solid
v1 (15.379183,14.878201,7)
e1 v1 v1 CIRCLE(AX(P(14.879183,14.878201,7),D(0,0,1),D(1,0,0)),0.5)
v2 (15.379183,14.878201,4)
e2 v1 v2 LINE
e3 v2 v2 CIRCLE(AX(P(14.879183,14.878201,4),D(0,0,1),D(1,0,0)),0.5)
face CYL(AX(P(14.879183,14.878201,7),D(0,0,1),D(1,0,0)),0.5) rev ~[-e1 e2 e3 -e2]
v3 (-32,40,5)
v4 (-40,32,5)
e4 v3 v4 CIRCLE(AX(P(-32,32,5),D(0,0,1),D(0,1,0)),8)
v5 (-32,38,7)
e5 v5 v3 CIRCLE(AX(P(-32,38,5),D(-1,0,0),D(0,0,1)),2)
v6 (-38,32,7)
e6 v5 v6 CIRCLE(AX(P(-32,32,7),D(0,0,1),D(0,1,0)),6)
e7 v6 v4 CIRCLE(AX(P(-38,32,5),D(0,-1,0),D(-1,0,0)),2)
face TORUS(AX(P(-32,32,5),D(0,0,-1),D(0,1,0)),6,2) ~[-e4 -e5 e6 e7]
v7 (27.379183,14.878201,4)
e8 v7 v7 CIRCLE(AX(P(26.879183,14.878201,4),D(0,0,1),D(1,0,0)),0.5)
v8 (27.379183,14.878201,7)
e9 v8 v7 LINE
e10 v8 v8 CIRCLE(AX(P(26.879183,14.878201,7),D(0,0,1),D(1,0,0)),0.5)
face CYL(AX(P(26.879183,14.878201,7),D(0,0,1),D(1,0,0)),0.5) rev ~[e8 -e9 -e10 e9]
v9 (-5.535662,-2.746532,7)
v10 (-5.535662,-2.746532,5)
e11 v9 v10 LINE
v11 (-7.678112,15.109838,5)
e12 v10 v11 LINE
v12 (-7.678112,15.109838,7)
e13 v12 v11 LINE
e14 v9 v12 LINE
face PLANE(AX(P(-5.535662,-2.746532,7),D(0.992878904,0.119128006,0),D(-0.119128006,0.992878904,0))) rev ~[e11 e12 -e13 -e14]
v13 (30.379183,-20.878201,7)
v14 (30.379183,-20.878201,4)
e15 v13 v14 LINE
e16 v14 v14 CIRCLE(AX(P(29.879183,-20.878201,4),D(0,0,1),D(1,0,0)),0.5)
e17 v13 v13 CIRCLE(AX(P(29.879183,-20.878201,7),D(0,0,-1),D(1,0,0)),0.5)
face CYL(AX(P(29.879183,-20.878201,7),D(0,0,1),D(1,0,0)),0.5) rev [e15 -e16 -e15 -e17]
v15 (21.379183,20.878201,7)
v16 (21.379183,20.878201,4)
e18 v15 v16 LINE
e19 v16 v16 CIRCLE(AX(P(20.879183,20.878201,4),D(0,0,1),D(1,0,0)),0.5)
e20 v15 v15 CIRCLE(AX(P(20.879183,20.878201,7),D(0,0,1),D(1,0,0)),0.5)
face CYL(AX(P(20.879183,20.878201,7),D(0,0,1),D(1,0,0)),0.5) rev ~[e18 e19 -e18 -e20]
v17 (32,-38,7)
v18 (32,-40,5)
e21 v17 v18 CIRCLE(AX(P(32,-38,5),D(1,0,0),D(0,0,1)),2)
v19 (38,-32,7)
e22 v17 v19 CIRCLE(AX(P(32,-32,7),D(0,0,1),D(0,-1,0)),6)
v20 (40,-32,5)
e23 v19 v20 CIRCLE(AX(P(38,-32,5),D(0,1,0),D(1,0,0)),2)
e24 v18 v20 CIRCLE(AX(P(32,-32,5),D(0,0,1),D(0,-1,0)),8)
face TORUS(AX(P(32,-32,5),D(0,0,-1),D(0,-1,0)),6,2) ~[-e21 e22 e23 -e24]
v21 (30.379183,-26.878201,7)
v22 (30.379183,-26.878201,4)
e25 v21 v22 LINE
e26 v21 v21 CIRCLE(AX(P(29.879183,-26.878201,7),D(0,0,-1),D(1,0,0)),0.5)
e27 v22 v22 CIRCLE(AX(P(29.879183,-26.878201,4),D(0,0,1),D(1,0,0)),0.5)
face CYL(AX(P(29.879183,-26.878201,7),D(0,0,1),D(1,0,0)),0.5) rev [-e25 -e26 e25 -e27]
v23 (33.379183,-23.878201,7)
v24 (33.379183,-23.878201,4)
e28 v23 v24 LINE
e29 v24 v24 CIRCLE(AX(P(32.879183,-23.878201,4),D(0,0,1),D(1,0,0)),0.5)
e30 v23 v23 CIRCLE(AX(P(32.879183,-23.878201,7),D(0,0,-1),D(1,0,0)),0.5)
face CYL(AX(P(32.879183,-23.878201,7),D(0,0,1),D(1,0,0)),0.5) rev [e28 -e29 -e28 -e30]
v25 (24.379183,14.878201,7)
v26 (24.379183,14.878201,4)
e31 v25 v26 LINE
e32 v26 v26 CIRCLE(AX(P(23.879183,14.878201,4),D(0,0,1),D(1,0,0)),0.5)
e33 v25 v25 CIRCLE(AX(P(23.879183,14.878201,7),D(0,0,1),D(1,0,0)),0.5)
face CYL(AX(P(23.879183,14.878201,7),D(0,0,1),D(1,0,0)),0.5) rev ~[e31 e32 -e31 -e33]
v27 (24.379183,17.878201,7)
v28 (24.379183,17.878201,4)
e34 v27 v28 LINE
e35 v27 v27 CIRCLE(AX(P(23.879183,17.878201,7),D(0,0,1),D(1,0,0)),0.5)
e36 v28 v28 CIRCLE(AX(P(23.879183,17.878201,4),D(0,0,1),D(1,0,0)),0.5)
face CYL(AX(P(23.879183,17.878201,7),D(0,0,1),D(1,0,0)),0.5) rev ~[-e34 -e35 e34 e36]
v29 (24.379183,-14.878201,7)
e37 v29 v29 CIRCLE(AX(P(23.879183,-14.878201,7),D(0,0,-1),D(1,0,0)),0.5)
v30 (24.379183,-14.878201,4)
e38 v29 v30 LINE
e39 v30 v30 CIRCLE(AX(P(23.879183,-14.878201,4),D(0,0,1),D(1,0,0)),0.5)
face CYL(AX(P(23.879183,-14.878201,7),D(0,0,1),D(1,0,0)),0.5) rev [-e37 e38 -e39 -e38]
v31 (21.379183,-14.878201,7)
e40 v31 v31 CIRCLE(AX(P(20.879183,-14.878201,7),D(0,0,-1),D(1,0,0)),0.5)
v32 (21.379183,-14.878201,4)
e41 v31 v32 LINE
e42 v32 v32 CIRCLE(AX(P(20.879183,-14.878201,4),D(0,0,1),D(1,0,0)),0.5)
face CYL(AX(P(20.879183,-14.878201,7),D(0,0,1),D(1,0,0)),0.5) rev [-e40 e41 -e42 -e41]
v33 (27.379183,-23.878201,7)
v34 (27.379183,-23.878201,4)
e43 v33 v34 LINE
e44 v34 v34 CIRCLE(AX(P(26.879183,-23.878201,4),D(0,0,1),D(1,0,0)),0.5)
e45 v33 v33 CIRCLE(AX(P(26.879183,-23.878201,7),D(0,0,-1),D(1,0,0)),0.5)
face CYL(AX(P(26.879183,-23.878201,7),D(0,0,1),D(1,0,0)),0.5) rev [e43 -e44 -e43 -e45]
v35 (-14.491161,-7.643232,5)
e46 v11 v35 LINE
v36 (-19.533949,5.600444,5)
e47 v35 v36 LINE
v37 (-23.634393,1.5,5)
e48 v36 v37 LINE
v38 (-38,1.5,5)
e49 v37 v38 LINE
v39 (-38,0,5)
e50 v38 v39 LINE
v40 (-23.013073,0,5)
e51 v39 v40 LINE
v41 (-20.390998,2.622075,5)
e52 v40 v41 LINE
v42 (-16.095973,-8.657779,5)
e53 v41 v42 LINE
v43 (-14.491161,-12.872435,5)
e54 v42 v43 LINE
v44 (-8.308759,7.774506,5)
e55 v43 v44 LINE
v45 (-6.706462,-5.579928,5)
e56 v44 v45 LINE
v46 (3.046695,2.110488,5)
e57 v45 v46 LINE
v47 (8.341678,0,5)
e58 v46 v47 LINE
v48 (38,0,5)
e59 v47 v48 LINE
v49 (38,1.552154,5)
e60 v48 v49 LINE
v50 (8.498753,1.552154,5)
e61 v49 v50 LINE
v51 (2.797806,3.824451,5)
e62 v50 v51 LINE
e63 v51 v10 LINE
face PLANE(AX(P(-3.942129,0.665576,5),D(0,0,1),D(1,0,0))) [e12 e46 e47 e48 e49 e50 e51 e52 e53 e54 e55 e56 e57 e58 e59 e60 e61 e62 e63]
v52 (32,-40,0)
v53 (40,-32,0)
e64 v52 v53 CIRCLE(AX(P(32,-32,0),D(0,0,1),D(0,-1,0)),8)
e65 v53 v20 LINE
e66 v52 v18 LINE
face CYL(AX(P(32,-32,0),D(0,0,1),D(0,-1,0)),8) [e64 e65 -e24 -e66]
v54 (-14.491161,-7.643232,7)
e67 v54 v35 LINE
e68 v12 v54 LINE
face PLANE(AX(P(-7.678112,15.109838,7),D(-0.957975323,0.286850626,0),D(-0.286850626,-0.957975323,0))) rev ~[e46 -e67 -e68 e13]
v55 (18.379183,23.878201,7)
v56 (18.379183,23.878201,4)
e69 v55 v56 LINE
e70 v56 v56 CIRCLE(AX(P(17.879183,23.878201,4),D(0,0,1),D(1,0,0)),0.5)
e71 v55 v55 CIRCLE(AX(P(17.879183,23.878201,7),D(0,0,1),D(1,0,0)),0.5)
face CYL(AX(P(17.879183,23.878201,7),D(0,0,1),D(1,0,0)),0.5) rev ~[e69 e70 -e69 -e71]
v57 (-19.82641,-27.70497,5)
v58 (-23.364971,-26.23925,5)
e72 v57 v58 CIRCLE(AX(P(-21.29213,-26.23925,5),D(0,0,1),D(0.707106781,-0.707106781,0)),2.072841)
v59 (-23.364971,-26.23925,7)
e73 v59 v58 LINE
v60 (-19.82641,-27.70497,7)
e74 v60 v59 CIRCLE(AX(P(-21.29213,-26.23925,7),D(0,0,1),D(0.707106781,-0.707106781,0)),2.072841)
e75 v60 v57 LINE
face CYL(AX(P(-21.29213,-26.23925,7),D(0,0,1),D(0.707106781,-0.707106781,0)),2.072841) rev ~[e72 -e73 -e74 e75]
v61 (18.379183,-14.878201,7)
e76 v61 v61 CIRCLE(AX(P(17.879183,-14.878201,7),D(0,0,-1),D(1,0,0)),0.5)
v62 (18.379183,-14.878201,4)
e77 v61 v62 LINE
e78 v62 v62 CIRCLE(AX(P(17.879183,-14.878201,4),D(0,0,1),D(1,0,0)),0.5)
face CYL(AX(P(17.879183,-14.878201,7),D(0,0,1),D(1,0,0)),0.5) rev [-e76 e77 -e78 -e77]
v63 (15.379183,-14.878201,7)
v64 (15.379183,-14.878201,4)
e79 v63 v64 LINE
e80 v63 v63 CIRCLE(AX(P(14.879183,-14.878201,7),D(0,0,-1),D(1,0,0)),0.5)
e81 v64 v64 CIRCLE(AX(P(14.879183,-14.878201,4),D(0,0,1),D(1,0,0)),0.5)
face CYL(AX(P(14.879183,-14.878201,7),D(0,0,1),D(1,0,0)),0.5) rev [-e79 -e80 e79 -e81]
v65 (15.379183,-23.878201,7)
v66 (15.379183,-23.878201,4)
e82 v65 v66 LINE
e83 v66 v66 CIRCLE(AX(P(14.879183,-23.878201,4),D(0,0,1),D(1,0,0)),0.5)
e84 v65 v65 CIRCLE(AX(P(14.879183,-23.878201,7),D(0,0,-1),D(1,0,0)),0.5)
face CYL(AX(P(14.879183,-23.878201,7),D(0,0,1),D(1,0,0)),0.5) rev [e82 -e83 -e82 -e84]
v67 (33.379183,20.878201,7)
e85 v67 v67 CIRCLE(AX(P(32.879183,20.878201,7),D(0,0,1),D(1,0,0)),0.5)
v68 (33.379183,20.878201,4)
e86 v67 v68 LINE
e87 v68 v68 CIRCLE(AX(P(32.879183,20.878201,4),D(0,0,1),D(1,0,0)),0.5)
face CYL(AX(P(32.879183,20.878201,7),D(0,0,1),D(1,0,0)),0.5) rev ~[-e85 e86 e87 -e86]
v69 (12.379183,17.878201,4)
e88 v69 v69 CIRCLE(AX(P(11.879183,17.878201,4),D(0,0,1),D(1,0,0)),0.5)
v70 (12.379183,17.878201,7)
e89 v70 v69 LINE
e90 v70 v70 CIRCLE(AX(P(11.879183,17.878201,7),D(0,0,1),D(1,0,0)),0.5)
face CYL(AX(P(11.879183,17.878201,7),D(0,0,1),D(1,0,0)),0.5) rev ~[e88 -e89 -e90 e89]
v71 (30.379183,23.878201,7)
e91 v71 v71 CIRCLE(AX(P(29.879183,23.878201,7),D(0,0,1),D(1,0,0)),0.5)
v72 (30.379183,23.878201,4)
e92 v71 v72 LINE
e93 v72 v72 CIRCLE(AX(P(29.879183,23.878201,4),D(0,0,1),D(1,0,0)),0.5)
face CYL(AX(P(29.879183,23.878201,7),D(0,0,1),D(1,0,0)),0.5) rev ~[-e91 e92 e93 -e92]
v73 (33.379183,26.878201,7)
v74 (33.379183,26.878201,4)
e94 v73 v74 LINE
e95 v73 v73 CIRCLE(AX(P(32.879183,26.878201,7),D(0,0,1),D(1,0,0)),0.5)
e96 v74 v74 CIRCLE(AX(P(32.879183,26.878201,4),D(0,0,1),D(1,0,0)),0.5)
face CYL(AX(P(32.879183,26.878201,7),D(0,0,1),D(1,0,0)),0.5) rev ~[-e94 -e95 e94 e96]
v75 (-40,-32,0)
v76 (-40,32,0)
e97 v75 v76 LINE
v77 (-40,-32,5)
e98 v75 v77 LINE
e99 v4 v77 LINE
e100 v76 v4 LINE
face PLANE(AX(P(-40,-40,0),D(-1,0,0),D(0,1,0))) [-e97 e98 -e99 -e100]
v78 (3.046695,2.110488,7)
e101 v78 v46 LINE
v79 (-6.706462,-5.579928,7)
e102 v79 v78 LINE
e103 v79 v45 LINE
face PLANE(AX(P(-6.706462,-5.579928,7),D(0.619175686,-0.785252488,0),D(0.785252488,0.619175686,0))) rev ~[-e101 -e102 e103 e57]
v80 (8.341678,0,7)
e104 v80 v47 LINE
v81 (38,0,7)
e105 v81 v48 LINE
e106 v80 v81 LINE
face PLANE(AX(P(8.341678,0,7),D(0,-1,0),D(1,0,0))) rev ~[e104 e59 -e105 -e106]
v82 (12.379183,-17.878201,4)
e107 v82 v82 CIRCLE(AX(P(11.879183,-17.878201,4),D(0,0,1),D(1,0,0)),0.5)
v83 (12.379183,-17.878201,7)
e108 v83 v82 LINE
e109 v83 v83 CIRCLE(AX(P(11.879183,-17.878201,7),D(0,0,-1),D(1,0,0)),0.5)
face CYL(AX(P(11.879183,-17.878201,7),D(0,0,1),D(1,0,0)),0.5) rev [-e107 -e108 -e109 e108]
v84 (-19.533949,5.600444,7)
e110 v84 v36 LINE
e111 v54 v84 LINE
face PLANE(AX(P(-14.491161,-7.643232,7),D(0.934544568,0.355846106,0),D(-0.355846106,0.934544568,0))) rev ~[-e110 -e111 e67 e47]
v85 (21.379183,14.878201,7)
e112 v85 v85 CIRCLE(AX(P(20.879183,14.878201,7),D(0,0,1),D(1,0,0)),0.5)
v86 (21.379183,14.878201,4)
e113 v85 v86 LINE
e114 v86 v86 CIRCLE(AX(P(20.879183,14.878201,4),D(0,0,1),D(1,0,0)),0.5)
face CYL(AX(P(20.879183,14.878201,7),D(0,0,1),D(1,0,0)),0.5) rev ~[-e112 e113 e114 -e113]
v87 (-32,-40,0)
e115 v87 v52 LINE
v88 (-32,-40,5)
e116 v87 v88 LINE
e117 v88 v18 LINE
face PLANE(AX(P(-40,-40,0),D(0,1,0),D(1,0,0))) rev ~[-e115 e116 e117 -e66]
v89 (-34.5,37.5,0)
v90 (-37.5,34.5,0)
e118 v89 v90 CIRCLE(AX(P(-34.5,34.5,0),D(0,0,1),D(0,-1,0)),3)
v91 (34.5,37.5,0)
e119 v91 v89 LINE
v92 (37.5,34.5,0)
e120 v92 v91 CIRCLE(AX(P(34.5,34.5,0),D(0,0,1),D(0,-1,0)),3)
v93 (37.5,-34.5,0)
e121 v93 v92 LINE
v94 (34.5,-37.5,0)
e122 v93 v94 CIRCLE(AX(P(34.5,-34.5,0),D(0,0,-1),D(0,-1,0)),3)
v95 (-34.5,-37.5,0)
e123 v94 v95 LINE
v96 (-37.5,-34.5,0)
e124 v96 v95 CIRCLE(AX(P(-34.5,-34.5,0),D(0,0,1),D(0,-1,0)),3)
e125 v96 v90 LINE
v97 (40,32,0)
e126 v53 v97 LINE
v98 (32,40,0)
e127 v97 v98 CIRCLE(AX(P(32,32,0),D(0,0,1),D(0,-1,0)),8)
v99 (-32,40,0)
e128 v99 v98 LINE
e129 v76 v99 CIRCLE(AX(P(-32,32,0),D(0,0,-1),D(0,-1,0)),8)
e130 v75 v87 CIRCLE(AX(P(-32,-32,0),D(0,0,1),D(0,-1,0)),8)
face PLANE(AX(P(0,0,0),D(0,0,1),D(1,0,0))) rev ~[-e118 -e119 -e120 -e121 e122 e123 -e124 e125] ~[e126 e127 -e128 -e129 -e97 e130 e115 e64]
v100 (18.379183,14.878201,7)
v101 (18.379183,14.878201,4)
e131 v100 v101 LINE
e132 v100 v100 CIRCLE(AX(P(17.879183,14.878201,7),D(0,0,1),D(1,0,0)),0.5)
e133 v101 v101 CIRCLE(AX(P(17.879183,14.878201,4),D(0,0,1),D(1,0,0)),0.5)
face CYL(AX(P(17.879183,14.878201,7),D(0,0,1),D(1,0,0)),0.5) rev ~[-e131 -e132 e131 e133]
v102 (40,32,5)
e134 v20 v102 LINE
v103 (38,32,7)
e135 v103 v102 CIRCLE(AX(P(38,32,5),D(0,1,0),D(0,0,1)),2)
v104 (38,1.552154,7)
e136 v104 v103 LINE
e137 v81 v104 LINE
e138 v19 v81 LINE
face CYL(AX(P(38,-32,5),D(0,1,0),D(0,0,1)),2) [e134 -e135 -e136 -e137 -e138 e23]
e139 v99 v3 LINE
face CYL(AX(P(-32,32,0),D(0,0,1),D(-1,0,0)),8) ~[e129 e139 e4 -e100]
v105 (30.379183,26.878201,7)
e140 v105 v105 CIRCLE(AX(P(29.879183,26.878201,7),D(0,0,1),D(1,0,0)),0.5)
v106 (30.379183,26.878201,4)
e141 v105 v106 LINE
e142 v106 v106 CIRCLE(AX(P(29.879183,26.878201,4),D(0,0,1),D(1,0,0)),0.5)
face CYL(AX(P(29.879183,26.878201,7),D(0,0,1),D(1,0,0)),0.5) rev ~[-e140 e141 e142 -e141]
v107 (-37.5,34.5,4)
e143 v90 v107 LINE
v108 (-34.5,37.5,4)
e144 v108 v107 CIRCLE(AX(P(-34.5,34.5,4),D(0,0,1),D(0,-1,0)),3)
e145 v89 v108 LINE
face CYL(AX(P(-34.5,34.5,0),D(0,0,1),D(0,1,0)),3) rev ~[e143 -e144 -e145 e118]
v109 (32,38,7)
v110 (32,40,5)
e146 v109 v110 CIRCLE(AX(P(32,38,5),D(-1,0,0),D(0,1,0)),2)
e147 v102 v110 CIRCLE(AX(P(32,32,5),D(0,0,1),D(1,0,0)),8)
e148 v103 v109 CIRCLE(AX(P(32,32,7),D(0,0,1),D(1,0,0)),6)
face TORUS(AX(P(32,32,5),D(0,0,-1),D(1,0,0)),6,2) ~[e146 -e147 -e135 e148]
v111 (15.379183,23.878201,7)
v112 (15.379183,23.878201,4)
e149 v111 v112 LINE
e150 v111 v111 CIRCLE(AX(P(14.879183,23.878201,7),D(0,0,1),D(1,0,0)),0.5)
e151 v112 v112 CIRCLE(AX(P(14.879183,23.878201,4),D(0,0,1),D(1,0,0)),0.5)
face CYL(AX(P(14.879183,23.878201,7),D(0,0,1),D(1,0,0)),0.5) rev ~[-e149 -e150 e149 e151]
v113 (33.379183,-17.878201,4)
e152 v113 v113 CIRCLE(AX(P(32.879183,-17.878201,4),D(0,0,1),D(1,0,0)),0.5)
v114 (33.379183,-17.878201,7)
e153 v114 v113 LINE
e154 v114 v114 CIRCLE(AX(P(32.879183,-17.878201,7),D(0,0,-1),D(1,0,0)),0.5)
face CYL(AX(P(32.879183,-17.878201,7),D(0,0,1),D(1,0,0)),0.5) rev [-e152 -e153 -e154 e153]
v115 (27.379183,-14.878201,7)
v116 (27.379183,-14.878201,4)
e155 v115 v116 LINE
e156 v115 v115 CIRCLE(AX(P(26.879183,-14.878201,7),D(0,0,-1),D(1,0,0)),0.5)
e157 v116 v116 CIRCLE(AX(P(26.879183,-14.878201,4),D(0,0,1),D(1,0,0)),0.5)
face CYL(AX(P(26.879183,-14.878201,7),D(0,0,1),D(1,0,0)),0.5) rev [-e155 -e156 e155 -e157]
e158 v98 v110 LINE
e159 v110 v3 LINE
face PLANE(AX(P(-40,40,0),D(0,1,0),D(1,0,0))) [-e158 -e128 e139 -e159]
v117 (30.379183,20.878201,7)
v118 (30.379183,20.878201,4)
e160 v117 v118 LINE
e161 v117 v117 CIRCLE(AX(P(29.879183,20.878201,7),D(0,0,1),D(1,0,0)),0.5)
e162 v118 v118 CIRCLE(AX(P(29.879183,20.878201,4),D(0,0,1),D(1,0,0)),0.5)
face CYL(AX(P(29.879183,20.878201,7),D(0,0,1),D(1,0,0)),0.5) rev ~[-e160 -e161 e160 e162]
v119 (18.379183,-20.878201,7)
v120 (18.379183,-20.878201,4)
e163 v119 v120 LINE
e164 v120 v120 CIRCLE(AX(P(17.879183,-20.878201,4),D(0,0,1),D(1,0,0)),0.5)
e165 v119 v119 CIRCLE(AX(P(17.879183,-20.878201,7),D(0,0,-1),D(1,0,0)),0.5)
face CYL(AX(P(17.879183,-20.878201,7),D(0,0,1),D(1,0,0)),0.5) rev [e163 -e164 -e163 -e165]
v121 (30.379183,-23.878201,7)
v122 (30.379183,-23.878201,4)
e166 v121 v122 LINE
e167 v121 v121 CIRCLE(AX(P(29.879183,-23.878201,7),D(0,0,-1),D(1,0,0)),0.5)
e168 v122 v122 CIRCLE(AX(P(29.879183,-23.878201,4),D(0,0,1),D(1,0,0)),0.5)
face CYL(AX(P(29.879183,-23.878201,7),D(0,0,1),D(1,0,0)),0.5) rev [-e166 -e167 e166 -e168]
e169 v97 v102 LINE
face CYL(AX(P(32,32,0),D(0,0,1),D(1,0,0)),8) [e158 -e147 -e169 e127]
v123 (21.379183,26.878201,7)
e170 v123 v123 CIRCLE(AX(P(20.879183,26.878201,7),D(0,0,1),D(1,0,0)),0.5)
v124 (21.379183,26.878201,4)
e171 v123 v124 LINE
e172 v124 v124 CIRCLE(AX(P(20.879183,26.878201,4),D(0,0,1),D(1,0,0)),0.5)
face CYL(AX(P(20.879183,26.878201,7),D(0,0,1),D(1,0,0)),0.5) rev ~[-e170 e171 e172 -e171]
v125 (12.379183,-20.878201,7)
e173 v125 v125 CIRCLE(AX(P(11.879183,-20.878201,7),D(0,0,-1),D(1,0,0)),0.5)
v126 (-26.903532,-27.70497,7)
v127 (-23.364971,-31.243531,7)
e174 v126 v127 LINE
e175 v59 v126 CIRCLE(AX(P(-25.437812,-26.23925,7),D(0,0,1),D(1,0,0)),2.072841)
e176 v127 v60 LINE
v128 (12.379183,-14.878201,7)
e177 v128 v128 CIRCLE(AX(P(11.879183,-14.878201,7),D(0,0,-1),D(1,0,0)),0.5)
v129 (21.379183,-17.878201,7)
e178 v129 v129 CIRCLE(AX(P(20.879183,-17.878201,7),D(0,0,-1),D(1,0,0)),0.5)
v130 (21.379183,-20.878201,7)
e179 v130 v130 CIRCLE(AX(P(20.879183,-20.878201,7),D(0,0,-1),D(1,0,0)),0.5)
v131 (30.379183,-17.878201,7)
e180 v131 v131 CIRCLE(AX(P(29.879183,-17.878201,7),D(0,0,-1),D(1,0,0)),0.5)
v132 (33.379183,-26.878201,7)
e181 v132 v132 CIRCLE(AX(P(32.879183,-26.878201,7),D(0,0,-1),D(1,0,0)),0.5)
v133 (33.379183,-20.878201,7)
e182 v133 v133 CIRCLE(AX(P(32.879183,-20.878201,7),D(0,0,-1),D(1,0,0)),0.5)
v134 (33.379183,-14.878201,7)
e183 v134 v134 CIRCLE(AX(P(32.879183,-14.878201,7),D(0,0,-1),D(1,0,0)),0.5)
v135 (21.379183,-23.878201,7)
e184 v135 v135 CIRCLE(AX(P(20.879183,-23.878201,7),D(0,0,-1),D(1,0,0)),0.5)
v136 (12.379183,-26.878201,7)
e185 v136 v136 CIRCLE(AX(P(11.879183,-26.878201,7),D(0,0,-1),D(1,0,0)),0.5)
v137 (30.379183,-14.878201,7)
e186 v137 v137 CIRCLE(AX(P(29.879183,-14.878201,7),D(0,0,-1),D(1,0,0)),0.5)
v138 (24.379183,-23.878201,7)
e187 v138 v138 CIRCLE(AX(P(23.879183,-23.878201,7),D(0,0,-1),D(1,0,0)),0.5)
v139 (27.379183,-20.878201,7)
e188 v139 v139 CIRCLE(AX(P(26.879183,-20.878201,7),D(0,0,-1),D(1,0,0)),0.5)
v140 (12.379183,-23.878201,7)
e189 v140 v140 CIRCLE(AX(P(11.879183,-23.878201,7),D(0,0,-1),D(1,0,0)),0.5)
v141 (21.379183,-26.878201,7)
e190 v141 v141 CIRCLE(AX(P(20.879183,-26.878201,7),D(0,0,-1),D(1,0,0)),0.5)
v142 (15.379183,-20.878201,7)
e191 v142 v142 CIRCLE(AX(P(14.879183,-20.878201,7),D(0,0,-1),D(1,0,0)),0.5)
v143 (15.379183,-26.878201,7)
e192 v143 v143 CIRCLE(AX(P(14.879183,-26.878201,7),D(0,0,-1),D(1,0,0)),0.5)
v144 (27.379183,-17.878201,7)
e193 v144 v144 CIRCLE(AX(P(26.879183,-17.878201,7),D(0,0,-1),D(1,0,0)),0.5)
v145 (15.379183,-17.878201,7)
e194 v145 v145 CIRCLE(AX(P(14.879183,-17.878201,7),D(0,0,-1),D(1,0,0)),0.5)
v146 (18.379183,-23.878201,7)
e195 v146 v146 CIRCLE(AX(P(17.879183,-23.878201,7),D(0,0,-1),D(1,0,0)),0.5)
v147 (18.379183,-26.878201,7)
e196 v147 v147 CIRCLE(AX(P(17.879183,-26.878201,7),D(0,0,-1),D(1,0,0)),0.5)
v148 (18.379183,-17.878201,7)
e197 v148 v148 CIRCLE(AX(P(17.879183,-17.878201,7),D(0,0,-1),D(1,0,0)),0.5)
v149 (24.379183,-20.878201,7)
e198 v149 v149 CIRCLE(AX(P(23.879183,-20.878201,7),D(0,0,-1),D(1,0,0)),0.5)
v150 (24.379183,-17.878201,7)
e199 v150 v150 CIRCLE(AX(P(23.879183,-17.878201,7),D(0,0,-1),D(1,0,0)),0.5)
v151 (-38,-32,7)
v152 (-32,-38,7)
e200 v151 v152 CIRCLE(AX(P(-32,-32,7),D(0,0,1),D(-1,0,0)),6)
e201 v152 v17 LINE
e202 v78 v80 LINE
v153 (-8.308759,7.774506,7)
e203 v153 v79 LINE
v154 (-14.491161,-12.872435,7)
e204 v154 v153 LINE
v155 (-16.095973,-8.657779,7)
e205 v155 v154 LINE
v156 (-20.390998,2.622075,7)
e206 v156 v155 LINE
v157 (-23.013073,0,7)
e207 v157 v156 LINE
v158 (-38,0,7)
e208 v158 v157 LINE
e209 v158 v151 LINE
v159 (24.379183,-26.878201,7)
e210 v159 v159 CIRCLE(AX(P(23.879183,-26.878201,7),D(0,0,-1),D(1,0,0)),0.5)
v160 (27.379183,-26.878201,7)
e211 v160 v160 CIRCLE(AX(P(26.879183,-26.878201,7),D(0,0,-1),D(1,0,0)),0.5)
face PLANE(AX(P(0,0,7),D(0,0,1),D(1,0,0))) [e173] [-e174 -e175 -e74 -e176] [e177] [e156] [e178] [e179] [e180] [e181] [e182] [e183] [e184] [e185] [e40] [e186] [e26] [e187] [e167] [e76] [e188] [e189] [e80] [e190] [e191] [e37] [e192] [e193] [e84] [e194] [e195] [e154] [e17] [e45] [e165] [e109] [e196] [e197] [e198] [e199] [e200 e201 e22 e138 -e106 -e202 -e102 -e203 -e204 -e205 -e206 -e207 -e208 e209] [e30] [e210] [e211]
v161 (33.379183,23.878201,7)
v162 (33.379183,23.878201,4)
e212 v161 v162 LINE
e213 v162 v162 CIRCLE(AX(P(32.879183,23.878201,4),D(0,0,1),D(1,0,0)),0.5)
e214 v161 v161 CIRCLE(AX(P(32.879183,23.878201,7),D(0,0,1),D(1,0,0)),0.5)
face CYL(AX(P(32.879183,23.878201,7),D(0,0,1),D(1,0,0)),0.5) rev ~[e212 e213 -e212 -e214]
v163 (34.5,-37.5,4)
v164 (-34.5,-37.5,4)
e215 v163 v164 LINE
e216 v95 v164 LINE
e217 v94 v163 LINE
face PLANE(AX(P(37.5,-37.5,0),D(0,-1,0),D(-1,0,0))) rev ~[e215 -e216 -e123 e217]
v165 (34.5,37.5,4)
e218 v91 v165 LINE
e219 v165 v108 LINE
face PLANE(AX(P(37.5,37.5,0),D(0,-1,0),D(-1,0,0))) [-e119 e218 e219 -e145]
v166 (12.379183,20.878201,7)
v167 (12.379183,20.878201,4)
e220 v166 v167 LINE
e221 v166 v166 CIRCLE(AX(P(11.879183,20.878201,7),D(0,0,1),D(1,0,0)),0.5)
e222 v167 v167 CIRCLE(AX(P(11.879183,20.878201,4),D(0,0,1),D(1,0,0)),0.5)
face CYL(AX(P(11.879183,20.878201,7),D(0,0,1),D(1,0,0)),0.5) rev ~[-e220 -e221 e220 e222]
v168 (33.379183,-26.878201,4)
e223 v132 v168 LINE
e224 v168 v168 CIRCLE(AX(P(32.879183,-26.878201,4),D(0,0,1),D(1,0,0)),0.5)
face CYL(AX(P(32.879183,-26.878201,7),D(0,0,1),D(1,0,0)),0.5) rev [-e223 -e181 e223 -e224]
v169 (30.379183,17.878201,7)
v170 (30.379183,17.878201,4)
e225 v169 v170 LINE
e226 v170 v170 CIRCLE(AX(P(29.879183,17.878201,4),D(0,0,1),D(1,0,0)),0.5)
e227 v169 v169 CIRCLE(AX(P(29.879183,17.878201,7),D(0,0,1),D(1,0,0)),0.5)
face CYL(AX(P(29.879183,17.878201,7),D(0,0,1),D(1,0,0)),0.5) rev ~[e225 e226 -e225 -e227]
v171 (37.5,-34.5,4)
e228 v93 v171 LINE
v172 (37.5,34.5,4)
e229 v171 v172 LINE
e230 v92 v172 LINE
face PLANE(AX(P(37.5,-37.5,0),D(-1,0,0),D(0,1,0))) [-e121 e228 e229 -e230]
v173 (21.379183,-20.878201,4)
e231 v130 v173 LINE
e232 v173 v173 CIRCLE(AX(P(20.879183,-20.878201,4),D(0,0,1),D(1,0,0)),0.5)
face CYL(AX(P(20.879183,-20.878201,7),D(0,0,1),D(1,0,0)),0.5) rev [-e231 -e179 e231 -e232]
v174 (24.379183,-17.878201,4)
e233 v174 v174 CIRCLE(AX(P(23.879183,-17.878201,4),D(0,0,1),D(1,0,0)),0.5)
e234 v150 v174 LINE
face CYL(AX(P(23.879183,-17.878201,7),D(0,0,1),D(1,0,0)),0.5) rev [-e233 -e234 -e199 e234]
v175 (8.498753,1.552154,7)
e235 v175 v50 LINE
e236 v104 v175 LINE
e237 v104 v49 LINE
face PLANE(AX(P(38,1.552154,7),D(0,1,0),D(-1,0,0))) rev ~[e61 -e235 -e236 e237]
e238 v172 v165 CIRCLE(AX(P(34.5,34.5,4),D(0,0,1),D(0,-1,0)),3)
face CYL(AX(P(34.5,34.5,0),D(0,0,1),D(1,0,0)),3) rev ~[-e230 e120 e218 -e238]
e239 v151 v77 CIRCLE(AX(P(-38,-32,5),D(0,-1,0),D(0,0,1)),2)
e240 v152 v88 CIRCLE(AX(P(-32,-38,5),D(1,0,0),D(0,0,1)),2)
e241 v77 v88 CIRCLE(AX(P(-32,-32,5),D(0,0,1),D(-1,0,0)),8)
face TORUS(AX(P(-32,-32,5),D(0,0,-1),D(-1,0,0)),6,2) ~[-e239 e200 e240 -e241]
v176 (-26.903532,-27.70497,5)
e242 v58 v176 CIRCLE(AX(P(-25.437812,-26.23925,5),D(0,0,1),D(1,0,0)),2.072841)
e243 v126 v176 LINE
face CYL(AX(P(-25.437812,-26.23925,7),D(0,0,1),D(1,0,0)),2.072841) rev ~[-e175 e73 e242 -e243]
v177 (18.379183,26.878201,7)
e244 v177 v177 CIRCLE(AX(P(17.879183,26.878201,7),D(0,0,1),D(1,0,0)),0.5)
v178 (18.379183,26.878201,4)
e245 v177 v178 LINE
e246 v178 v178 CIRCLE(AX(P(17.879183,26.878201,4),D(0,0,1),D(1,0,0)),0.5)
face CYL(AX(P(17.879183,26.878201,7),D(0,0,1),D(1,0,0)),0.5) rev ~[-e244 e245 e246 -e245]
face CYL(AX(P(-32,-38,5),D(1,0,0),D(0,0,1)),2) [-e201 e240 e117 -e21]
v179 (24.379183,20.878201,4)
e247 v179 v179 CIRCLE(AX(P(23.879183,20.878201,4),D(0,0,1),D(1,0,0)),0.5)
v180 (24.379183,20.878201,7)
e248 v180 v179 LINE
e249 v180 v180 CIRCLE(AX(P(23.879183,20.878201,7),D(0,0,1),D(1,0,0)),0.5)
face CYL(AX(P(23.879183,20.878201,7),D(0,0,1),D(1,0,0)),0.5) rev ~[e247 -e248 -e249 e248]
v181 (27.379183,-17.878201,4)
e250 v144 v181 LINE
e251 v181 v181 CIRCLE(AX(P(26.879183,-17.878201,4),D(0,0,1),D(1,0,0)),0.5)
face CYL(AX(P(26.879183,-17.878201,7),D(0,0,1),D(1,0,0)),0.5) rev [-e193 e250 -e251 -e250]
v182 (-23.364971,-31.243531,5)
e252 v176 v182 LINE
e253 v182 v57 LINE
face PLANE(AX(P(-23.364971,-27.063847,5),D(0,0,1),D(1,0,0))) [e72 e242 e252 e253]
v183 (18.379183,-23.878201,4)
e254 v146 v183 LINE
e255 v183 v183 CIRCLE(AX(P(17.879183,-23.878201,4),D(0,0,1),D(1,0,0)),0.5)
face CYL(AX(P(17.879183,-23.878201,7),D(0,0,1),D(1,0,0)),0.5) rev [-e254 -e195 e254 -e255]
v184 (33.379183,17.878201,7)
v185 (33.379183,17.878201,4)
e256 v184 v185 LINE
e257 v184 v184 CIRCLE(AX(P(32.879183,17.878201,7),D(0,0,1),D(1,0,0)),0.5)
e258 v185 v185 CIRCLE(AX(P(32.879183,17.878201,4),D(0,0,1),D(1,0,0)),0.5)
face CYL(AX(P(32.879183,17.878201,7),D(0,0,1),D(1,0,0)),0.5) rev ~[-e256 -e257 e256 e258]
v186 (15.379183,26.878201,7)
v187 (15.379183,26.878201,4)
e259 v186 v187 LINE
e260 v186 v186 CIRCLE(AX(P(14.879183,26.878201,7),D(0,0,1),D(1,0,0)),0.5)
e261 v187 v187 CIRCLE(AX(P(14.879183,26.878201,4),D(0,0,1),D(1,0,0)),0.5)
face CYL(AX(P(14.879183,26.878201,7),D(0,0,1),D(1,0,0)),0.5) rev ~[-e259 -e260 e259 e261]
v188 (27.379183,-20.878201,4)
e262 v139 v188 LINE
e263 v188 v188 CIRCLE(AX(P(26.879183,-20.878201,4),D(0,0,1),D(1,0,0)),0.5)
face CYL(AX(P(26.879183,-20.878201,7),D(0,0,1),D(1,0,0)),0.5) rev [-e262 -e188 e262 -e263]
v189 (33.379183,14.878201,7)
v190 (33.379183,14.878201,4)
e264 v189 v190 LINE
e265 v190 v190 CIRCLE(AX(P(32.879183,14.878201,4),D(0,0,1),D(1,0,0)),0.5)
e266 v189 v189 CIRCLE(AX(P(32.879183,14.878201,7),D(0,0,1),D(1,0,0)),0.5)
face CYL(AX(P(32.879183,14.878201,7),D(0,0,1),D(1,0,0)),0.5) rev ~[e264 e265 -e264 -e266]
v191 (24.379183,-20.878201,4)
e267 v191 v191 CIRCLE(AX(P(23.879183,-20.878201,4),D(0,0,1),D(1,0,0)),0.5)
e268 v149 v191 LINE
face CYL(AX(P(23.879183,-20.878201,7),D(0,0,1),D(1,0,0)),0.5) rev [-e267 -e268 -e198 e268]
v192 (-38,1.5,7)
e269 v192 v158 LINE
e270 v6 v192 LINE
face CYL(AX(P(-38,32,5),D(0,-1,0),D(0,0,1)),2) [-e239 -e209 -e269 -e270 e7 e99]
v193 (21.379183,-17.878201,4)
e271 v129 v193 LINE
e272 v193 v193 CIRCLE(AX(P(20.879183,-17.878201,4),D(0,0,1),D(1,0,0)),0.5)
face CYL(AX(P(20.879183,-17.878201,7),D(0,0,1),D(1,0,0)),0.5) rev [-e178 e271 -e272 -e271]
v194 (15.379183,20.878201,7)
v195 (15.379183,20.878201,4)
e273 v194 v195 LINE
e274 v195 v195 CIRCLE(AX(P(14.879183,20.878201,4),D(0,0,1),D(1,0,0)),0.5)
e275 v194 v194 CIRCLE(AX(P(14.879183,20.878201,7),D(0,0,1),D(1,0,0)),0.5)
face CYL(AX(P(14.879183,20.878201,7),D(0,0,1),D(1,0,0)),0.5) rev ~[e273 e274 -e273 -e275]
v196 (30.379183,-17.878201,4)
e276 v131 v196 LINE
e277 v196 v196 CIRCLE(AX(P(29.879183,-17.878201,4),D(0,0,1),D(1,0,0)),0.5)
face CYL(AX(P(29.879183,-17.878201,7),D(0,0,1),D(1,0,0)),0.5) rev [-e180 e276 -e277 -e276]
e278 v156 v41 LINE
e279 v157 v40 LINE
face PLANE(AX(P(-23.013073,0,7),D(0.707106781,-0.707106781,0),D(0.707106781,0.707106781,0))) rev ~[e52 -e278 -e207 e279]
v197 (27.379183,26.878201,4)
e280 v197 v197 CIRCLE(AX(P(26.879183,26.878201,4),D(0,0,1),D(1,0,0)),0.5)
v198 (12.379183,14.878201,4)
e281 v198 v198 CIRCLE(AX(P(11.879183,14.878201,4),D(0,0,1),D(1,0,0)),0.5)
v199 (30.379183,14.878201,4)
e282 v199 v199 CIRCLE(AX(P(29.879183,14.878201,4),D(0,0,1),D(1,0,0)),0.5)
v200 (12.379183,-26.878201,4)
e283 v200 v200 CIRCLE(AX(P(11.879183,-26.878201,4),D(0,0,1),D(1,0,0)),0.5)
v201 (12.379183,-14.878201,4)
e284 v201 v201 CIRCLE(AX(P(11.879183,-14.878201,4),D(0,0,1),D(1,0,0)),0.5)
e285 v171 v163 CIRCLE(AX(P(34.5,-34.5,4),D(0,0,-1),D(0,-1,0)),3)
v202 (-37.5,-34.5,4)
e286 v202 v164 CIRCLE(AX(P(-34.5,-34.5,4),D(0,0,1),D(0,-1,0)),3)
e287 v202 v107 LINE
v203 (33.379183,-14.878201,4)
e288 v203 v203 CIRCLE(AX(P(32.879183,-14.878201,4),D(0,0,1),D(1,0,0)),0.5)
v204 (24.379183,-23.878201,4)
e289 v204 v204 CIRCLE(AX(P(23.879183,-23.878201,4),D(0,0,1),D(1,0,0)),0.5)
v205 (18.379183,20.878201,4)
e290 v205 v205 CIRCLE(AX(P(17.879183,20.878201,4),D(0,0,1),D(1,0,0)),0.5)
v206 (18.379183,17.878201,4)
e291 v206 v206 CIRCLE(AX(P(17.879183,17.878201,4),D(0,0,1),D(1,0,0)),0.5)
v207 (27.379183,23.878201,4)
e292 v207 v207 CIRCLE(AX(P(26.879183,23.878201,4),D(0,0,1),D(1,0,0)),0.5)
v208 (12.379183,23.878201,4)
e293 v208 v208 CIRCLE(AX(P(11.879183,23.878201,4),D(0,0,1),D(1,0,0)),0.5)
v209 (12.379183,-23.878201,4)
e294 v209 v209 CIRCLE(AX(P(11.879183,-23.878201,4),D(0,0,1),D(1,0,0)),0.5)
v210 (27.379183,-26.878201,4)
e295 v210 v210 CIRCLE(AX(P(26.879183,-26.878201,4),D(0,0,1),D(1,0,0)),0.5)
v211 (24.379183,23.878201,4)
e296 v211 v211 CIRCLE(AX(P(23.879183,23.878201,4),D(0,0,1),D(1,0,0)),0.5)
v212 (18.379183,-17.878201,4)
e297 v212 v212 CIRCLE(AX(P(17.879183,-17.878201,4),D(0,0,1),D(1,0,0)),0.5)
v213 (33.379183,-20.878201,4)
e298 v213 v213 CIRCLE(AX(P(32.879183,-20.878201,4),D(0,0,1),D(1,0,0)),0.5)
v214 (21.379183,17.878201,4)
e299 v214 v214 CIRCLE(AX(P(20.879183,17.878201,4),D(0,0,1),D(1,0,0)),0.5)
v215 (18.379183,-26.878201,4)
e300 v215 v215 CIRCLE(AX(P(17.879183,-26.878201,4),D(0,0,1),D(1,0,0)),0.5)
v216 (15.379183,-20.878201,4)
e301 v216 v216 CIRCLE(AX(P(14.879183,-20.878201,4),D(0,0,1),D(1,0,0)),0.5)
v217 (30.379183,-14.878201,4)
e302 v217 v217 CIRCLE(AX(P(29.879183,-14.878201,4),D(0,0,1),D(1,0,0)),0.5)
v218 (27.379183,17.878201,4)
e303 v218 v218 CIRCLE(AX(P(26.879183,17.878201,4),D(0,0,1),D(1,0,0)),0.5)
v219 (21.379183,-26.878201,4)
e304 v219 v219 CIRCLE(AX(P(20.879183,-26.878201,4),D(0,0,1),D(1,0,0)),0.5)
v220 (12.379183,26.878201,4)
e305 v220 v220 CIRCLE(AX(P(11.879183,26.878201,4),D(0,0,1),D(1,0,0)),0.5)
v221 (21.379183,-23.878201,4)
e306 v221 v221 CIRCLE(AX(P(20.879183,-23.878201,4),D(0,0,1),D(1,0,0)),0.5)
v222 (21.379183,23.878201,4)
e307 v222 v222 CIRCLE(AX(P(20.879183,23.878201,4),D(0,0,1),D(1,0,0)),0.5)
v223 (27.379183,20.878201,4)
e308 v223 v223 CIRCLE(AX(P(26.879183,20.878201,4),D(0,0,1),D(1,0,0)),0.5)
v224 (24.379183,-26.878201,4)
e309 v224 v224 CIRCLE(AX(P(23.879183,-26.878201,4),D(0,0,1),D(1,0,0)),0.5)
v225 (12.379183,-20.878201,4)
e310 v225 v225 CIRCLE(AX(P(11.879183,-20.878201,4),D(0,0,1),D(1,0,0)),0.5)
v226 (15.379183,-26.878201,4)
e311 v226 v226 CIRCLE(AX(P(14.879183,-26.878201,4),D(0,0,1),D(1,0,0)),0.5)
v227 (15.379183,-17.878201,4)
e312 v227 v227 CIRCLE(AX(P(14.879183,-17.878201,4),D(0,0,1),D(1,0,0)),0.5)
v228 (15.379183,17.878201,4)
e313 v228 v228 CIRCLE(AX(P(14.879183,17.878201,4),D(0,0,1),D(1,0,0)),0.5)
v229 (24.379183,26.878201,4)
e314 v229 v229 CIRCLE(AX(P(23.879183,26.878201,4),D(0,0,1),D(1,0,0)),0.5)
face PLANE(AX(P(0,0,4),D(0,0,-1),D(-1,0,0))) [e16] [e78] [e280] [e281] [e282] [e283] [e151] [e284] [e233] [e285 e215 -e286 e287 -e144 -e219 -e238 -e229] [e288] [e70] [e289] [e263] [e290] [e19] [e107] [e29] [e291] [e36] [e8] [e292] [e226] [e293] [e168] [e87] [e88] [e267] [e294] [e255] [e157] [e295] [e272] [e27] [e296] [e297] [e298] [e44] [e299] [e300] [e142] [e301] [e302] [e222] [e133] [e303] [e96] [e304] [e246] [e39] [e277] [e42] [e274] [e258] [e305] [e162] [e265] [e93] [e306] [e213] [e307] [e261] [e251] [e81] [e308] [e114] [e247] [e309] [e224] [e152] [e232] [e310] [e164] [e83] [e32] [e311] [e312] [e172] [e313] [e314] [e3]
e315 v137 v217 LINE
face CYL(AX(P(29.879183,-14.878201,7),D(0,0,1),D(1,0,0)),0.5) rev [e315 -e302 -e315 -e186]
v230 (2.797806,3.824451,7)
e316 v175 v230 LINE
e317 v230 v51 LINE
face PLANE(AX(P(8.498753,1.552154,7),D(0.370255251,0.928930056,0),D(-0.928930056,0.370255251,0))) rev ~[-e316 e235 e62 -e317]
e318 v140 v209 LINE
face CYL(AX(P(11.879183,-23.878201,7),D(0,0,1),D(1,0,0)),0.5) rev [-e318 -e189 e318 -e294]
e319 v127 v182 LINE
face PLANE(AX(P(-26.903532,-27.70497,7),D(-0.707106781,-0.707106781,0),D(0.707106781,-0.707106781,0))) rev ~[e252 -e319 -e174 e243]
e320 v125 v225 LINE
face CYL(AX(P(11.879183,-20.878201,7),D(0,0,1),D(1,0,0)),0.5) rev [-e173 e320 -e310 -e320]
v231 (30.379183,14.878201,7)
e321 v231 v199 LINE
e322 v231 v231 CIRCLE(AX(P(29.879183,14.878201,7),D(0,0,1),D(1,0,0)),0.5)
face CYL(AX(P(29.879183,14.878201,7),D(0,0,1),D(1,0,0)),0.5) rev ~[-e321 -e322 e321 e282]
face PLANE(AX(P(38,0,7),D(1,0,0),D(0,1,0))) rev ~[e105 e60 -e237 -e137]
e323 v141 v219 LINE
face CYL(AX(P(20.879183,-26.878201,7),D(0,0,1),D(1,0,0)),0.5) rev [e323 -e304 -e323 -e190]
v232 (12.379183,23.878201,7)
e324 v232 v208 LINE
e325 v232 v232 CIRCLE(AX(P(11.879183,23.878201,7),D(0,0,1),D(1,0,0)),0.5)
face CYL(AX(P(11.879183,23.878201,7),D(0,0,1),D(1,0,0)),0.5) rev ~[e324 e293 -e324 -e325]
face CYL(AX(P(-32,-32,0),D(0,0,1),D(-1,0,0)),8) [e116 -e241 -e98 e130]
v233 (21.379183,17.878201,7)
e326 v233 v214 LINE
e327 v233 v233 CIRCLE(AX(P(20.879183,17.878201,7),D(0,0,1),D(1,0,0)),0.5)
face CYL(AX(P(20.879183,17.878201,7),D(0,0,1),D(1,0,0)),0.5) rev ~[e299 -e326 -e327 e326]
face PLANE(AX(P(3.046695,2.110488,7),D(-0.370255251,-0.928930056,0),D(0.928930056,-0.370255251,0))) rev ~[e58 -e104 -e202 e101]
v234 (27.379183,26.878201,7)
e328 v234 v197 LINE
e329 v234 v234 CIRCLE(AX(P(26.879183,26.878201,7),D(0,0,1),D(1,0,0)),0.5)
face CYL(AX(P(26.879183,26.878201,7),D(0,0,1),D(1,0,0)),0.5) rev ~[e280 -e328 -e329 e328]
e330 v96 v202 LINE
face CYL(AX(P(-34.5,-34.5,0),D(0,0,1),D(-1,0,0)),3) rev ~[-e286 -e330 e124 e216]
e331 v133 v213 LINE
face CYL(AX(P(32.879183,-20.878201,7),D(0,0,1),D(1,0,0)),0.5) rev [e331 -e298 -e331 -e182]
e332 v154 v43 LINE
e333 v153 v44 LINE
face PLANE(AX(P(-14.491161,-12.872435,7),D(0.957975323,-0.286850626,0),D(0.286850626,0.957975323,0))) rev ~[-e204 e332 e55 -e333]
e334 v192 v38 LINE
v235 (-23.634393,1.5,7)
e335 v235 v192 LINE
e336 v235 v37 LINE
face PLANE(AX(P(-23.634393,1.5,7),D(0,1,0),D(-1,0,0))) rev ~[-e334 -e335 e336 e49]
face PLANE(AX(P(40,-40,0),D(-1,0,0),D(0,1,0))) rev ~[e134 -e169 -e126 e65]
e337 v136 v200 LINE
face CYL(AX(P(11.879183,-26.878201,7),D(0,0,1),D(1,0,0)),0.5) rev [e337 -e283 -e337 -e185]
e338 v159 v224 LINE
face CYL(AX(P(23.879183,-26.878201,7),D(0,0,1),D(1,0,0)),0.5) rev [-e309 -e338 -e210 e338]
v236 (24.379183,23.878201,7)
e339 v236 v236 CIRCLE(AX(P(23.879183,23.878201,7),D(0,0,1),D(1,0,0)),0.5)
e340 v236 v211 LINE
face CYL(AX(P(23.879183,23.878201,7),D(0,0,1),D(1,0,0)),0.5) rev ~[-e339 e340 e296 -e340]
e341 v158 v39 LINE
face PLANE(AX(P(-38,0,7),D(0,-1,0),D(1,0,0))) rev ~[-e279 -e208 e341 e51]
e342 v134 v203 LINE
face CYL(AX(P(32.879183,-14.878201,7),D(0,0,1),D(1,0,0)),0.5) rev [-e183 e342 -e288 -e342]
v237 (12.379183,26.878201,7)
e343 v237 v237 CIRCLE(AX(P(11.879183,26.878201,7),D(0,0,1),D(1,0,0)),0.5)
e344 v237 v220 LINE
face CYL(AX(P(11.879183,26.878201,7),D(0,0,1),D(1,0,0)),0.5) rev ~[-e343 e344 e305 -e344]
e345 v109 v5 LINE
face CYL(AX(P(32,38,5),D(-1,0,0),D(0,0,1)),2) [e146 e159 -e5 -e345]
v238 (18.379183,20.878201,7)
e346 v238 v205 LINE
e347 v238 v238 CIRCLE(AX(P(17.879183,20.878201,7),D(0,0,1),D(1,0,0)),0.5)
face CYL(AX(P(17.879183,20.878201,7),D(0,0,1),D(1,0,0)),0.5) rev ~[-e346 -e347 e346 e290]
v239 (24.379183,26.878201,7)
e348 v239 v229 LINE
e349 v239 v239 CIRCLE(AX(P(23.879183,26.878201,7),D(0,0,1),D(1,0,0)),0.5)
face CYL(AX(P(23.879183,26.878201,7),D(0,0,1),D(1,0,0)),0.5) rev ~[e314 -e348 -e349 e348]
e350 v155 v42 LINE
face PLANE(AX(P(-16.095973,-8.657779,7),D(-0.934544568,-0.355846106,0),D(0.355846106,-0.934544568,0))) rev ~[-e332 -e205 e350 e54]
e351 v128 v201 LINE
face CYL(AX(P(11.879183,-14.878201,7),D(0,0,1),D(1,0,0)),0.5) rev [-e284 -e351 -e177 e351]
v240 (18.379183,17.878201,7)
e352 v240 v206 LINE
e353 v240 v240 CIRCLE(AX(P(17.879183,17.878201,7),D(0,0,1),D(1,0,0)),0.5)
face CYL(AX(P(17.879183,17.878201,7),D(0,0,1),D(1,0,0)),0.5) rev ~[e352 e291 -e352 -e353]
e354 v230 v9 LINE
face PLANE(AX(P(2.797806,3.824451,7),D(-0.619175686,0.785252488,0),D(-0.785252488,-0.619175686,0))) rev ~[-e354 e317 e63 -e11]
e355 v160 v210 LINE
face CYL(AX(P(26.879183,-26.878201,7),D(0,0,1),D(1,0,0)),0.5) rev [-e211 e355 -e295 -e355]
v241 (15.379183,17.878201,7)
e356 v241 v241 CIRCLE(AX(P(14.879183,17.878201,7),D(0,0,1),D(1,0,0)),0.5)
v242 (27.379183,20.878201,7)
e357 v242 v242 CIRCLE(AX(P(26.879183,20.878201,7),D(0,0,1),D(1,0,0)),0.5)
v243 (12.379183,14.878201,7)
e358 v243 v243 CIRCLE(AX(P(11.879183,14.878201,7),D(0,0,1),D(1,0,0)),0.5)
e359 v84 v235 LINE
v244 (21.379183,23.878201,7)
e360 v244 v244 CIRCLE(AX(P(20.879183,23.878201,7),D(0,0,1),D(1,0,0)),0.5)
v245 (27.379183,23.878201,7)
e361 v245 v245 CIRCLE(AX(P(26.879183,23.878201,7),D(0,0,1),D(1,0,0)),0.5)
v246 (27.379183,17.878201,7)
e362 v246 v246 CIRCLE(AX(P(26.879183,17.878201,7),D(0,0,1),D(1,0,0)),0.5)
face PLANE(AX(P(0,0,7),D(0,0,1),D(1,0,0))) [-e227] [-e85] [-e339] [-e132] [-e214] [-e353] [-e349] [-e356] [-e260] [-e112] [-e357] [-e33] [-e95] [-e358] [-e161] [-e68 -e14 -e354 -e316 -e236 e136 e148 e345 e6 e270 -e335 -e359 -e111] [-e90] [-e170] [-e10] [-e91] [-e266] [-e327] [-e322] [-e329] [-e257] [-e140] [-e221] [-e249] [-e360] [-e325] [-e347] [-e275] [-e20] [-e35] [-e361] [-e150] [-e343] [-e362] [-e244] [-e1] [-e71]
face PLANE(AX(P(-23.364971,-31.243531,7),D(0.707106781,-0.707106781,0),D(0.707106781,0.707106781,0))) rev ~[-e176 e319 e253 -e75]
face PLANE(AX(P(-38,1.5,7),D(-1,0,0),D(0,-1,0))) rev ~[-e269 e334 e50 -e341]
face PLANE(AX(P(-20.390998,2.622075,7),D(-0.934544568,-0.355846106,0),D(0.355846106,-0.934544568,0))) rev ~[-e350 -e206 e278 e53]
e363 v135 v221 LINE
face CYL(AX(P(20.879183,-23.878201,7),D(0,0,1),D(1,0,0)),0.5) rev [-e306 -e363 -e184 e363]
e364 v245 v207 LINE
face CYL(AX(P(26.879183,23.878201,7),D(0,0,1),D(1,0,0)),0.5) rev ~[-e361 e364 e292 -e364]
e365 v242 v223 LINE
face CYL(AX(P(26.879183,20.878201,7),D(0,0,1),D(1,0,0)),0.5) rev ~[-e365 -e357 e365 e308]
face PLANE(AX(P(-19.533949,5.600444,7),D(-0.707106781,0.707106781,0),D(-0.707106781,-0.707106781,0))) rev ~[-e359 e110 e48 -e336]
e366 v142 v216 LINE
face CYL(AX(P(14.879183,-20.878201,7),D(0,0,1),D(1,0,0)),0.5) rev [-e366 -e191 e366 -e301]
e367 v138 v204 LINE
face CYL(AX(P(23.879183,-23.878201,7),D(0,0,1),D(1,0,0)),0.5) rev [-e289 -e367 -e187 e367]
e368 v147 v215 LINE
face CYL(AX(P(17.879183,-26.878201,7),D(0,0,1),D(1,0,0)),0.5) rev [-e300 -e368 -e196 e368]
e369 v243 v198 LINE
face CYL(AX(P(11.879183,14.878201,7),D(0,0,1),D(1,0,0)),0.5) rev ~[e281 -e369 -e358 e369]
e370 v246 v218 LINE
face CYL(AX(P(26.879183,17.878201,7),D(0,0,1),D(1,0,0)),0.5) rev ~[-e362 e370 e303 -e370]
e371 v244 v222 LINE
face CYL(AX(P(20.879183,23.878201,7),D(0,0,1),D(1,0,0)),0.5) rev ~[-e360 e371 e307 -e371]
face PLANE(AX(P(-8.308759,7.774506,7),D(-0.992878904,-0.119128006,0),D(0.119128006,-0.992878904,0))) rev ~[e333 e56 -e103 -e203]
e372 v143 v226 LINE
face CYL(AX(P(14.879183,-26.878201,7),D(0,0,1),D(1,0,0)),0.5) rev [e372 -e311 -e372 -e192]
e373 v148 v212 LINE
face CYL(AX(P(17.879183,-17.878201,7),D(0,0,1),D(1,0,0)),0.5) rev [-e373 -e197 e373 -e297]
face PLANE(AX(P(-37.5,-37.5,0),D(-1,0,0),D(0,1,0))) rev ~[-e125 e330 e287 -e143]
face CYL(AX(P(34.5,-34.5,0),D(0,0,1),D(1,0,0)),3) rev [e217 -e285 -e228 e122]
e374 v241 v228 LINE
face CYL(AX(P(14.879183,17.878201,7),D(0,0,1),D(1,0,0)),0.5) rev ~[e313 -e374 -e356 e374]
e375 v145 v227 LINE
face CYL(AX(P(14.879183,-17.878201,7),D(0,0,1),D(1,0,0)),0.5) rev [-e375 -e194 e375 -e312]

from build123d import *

# Parameters (mm, degrees)
ESQUISSE1_W             = 80
ESQUISSE1_H             = 80
BOSS_EXTRU_1_DEPTH      = 7
CONG_1_R                = 8
CONG_2_R                = 2
ESQUISSE2_W             = 75
ESQUISSE2_H             = 75
ENL_V_MAT_EXTRU_1_DEPTH = 4
ENL_V_MAT_EXTRU_2_DEPTH = 2
ENL_V_MAT_EXTRU_3_DEPTH = 2
ESQUISSE6_R             = 0.5
ENL_V_MAT_EXTRU_4_DEPTH = 58
CONG_3_R                = 3


with BuildPart() as part:
    # Esquisse1 → Boss.-Extru.1 (new body)
    with BuildSketch(Plane.XY):
        Rectangle(ESQUISSE1_W, ESQUISSE1_H)
    extrude(amount=BOSS_EXTRU_1_DEPTH)

    # Congé1
    cong_1_edges = [part.edges().sort_by_distance(p)[0] for p in [
        (40, -40, 3.5),
        (-40, -40, 3.5),
        (-40, 40, 3.5),
        (40, 40, 3.5),
    ]]
    fillet(cong_1_edges, radius=CONG_1_R)

    # Congé2
    cong_2_edges = [part.edges().sort_by_distance(p)[0] for p in [
        (0, -40, 7),
        (-40, 0, 7),
        (40, 0, 7),
        (0, 40, 7),
        (37.656854249, 37.656854249, 7),
        (37.656854249, -37.656854249, 7),
        (-37.656854249, 37.656854249, 7),
        (-37.656854249, -37.656854249, 7),
    ]]
    fillet(cong_2_edges, radius=CONG_2_R)

    # Esquisse2 → Enlèv. mat.-Extru.1 (cut)
    with BuildSketch(Plane(origin=(0, 0, 0), x_dir=(-1, 0, 0), z_dir=(0, 0, -1))):
        Rectangle(ESQUISSE2_W, ESQUISSE2_H)
    extrude(amount=-ENL_V_MAT_EXTRU_1_DEPTH, mode=Mode.SUBTRACT)

    # Esquisse3 → Enlèv. mat.-Extru.2 (cut)
    with BuildSketch(Plane.XY.offset(7)):
        Polygon((-38, 0), (-23.013072884, 0), (-20.39099813, 2.622074754), (-16.095973356, -8.657779106), (-14.491160811, -12.872434885), (-8.308759443, 7.774506113), (-6.706462268, -5.579927642), (3.046694847, 2.110487656), (8.341678265, 0), (38, 0), (38, 1.552153758), (8.49875294, 1.552153758), (2.797806202, 3.824451283), (-5.535661698, -2.746531659), (-7.678112046, 15.109838358), (-14.491160811, -7.643232416), (-19.53394935, 5.600443877), (-23.634393227, 1.5), (-38, 1.5), align=None)
    extrude(amount=-ENL_V_MAT_EXTRU_2_DEPTH, mode=Mode.SUBTRACT)

    # Esquisse4 → Enlèv. mat.-Extru.3 (cut)
    with BuildSketch(Plane.XY.offset(7)):
        with BuildLine():
            Line((-26.903531704, -27.704969904), (-23.364970672, -31.243530936))
            Line((-23.364970672, -31.243530936), (-19.826409639, -27.704969904))
            ThreePointArc((-19.826409639, -27.704969904), (-20.498887678, -24.324194502), (-23.364970672, -26.239249933))
            ThreePointArc((-23.364970672, -26.239249933), (-26.231053665, -24.324194502), (-26.903531704, -27.704969904))
        make_face()
    extrude(amount=-ENL_V_MAT_EXTRU_3_DEPTH, mode=Mode.SUBTRACT)

    # Esquisse6 → Enlèv. mat.-Extru.4 (cut, through all)
    with BuildSketch(Plane.XY.offset(7)):
        with Locations((11.879182911, 26.878201105)):
            Circle(ESQUISSE6_R)
        with Locations((14.879182911, 26.878201105)):
            Circle(ESQUISSE6_R)
        with Locations((17.879182911, 26.878201105)):
            Circle(ESQUISSE6_R)
        with Locations((20.879182911, 26.878201105)):
            Circle(ESQUISSE6_R)
        with Locations((23.879182911, 26.878201105)):
            Circle(ESQUISSE6_R)
        with Locations((26.879182911, 26.878201105)):
            Circle(ESQUISSE6_R)
        with Locations((29.879182911, 26.878201105)):
            Circle(ESQUISSE6_R)
        with Locations((32.879182911, 26.878201105)):
            Circle(ESQUISSE6_R)
        with Locations((14.879182911, 23.878201105)):
            Circle(ESQUISSE6_R)
        with Locations((17.879182911, 23.878201105)):
            Circle(ESQUISSE6_R)
        with Locations((20.879182911, 23.878201105)):
            Circle(ESQUISSE6_R)
        with Locations((23.879182911, 23.878201105)):
            Circle(ESQUISSE6_R)
        with Locations((26.879182911, 23.878201105)):
            Circle(ESQUISSE6_R)
        with Locations((29.879182911, 23.878201105)):
            Circle(ESQUISSE6_R)
        with Locations((32.879182911, 23.878201105)):
            Circle(ESQUISSE6_R)
        with Locations((14.879182911, 20.878201105)):
            Circle(ESQUISSE6_R)
        with Locations((17.879182911, 20.878201105)):
            Circle(ESQUISSE6_R)
        with Locations((20.879182911, 20.878201105)):
            Circle(ESQUISSE6_R)
        with Locations((23.879182911, 20.878201105)):
            Circle(ESQUISSE6_R)
        with Locations((26.879182911, 20.878201105)):
            Circle(ESQUISSE6_R)
        with Locations((29.879182911, 20.878201105)):
            Circle(ESQUISSE6_R)
        with Locations((32.879182911, 20.878201105)):
            Circle(ESQUISSE6_R)
        with Locations((14.879182911, 17.878201105)):
            Circle(ESQUISSE6_R)
        with Locations((17.879182911, 17.878201105)):
            Circle(ESQUISSE6_R)
        with Locations((20.879182911, 17.878201105)):
            Circle(ESQUISSE6_R)
        with Locations((23.879182911, 17.878201105)):
            Circle(ESQUISSE6_R)
        with Locations((26.879182911, 17.878201105)):
            Circle(ESQUISSE6_R)
        with Locations((29.879182911, 17.878201105)):
            Circle(ESQUISSE6_R)
        with Locations((32.879182911, 17.878201105)):
            Circle(ESQUISSE6_R)
        with Locations((14.879182911, 14.878201105)):
            Circle(ESQUISSE6_R)
        with Locations((17.879182911, 14.878201105)):
            Circle(ESQUISSE6_R)
        with Locations((20.879182911, 14.878201105)):
            Circle(ESQUISSE6_R)
        with Locations((23.879182911, 14.878201105)):
            Circle(ESQUISSE6_R)
        with Locations((26.879182911, 14.878201105)):
            Circle(ESQUISSE6_R)
        with Locations((29.879182911, 14.878201105)):
            Circle(ESQUISSE6_R)
        with Locations((32.879182911, 14.878201105)):
            Circle(ESQUISSE6_R)
        with Locations((11.879182911, 23.878201105)):
            Circle(ESQUISSE6_R)
        with Locations((11.879182911, 20.878201105)):
            Circle(ESQUISSE6_R)
        with Locations((11.879182911, 17.878201105)):
            Circle(ESQUISSE6_R)
        with Locations((11.879182911, 14.878201105)):
            Circle(ESQUISSE6_R)
    enl_v_mat_extru_4 = extrude(amount=-ENL_V_MAT_EXTRU_4_DEPTH, mode=Mode.SUBTRACT)

    # Symétrie2: Enlèv. mat.-Extru.4 across plane
    add(enl_v_mat_extru_4.mirror(Plane.ZX), mode=Mode.SUBTRACT)

    # Congé3
    cong_3_edges = [part.edges().sort_by_distance(p)[0] for p in [
        (-37.5, 37.5, 2),
        (-37.5, -37.5, 2),
        (37.5, -37.5, 2),
        (37.5, 37.5, 2),
    ]]
    fillet(cong_3_edges, radius=CONG_3_R)


solid = part.part
